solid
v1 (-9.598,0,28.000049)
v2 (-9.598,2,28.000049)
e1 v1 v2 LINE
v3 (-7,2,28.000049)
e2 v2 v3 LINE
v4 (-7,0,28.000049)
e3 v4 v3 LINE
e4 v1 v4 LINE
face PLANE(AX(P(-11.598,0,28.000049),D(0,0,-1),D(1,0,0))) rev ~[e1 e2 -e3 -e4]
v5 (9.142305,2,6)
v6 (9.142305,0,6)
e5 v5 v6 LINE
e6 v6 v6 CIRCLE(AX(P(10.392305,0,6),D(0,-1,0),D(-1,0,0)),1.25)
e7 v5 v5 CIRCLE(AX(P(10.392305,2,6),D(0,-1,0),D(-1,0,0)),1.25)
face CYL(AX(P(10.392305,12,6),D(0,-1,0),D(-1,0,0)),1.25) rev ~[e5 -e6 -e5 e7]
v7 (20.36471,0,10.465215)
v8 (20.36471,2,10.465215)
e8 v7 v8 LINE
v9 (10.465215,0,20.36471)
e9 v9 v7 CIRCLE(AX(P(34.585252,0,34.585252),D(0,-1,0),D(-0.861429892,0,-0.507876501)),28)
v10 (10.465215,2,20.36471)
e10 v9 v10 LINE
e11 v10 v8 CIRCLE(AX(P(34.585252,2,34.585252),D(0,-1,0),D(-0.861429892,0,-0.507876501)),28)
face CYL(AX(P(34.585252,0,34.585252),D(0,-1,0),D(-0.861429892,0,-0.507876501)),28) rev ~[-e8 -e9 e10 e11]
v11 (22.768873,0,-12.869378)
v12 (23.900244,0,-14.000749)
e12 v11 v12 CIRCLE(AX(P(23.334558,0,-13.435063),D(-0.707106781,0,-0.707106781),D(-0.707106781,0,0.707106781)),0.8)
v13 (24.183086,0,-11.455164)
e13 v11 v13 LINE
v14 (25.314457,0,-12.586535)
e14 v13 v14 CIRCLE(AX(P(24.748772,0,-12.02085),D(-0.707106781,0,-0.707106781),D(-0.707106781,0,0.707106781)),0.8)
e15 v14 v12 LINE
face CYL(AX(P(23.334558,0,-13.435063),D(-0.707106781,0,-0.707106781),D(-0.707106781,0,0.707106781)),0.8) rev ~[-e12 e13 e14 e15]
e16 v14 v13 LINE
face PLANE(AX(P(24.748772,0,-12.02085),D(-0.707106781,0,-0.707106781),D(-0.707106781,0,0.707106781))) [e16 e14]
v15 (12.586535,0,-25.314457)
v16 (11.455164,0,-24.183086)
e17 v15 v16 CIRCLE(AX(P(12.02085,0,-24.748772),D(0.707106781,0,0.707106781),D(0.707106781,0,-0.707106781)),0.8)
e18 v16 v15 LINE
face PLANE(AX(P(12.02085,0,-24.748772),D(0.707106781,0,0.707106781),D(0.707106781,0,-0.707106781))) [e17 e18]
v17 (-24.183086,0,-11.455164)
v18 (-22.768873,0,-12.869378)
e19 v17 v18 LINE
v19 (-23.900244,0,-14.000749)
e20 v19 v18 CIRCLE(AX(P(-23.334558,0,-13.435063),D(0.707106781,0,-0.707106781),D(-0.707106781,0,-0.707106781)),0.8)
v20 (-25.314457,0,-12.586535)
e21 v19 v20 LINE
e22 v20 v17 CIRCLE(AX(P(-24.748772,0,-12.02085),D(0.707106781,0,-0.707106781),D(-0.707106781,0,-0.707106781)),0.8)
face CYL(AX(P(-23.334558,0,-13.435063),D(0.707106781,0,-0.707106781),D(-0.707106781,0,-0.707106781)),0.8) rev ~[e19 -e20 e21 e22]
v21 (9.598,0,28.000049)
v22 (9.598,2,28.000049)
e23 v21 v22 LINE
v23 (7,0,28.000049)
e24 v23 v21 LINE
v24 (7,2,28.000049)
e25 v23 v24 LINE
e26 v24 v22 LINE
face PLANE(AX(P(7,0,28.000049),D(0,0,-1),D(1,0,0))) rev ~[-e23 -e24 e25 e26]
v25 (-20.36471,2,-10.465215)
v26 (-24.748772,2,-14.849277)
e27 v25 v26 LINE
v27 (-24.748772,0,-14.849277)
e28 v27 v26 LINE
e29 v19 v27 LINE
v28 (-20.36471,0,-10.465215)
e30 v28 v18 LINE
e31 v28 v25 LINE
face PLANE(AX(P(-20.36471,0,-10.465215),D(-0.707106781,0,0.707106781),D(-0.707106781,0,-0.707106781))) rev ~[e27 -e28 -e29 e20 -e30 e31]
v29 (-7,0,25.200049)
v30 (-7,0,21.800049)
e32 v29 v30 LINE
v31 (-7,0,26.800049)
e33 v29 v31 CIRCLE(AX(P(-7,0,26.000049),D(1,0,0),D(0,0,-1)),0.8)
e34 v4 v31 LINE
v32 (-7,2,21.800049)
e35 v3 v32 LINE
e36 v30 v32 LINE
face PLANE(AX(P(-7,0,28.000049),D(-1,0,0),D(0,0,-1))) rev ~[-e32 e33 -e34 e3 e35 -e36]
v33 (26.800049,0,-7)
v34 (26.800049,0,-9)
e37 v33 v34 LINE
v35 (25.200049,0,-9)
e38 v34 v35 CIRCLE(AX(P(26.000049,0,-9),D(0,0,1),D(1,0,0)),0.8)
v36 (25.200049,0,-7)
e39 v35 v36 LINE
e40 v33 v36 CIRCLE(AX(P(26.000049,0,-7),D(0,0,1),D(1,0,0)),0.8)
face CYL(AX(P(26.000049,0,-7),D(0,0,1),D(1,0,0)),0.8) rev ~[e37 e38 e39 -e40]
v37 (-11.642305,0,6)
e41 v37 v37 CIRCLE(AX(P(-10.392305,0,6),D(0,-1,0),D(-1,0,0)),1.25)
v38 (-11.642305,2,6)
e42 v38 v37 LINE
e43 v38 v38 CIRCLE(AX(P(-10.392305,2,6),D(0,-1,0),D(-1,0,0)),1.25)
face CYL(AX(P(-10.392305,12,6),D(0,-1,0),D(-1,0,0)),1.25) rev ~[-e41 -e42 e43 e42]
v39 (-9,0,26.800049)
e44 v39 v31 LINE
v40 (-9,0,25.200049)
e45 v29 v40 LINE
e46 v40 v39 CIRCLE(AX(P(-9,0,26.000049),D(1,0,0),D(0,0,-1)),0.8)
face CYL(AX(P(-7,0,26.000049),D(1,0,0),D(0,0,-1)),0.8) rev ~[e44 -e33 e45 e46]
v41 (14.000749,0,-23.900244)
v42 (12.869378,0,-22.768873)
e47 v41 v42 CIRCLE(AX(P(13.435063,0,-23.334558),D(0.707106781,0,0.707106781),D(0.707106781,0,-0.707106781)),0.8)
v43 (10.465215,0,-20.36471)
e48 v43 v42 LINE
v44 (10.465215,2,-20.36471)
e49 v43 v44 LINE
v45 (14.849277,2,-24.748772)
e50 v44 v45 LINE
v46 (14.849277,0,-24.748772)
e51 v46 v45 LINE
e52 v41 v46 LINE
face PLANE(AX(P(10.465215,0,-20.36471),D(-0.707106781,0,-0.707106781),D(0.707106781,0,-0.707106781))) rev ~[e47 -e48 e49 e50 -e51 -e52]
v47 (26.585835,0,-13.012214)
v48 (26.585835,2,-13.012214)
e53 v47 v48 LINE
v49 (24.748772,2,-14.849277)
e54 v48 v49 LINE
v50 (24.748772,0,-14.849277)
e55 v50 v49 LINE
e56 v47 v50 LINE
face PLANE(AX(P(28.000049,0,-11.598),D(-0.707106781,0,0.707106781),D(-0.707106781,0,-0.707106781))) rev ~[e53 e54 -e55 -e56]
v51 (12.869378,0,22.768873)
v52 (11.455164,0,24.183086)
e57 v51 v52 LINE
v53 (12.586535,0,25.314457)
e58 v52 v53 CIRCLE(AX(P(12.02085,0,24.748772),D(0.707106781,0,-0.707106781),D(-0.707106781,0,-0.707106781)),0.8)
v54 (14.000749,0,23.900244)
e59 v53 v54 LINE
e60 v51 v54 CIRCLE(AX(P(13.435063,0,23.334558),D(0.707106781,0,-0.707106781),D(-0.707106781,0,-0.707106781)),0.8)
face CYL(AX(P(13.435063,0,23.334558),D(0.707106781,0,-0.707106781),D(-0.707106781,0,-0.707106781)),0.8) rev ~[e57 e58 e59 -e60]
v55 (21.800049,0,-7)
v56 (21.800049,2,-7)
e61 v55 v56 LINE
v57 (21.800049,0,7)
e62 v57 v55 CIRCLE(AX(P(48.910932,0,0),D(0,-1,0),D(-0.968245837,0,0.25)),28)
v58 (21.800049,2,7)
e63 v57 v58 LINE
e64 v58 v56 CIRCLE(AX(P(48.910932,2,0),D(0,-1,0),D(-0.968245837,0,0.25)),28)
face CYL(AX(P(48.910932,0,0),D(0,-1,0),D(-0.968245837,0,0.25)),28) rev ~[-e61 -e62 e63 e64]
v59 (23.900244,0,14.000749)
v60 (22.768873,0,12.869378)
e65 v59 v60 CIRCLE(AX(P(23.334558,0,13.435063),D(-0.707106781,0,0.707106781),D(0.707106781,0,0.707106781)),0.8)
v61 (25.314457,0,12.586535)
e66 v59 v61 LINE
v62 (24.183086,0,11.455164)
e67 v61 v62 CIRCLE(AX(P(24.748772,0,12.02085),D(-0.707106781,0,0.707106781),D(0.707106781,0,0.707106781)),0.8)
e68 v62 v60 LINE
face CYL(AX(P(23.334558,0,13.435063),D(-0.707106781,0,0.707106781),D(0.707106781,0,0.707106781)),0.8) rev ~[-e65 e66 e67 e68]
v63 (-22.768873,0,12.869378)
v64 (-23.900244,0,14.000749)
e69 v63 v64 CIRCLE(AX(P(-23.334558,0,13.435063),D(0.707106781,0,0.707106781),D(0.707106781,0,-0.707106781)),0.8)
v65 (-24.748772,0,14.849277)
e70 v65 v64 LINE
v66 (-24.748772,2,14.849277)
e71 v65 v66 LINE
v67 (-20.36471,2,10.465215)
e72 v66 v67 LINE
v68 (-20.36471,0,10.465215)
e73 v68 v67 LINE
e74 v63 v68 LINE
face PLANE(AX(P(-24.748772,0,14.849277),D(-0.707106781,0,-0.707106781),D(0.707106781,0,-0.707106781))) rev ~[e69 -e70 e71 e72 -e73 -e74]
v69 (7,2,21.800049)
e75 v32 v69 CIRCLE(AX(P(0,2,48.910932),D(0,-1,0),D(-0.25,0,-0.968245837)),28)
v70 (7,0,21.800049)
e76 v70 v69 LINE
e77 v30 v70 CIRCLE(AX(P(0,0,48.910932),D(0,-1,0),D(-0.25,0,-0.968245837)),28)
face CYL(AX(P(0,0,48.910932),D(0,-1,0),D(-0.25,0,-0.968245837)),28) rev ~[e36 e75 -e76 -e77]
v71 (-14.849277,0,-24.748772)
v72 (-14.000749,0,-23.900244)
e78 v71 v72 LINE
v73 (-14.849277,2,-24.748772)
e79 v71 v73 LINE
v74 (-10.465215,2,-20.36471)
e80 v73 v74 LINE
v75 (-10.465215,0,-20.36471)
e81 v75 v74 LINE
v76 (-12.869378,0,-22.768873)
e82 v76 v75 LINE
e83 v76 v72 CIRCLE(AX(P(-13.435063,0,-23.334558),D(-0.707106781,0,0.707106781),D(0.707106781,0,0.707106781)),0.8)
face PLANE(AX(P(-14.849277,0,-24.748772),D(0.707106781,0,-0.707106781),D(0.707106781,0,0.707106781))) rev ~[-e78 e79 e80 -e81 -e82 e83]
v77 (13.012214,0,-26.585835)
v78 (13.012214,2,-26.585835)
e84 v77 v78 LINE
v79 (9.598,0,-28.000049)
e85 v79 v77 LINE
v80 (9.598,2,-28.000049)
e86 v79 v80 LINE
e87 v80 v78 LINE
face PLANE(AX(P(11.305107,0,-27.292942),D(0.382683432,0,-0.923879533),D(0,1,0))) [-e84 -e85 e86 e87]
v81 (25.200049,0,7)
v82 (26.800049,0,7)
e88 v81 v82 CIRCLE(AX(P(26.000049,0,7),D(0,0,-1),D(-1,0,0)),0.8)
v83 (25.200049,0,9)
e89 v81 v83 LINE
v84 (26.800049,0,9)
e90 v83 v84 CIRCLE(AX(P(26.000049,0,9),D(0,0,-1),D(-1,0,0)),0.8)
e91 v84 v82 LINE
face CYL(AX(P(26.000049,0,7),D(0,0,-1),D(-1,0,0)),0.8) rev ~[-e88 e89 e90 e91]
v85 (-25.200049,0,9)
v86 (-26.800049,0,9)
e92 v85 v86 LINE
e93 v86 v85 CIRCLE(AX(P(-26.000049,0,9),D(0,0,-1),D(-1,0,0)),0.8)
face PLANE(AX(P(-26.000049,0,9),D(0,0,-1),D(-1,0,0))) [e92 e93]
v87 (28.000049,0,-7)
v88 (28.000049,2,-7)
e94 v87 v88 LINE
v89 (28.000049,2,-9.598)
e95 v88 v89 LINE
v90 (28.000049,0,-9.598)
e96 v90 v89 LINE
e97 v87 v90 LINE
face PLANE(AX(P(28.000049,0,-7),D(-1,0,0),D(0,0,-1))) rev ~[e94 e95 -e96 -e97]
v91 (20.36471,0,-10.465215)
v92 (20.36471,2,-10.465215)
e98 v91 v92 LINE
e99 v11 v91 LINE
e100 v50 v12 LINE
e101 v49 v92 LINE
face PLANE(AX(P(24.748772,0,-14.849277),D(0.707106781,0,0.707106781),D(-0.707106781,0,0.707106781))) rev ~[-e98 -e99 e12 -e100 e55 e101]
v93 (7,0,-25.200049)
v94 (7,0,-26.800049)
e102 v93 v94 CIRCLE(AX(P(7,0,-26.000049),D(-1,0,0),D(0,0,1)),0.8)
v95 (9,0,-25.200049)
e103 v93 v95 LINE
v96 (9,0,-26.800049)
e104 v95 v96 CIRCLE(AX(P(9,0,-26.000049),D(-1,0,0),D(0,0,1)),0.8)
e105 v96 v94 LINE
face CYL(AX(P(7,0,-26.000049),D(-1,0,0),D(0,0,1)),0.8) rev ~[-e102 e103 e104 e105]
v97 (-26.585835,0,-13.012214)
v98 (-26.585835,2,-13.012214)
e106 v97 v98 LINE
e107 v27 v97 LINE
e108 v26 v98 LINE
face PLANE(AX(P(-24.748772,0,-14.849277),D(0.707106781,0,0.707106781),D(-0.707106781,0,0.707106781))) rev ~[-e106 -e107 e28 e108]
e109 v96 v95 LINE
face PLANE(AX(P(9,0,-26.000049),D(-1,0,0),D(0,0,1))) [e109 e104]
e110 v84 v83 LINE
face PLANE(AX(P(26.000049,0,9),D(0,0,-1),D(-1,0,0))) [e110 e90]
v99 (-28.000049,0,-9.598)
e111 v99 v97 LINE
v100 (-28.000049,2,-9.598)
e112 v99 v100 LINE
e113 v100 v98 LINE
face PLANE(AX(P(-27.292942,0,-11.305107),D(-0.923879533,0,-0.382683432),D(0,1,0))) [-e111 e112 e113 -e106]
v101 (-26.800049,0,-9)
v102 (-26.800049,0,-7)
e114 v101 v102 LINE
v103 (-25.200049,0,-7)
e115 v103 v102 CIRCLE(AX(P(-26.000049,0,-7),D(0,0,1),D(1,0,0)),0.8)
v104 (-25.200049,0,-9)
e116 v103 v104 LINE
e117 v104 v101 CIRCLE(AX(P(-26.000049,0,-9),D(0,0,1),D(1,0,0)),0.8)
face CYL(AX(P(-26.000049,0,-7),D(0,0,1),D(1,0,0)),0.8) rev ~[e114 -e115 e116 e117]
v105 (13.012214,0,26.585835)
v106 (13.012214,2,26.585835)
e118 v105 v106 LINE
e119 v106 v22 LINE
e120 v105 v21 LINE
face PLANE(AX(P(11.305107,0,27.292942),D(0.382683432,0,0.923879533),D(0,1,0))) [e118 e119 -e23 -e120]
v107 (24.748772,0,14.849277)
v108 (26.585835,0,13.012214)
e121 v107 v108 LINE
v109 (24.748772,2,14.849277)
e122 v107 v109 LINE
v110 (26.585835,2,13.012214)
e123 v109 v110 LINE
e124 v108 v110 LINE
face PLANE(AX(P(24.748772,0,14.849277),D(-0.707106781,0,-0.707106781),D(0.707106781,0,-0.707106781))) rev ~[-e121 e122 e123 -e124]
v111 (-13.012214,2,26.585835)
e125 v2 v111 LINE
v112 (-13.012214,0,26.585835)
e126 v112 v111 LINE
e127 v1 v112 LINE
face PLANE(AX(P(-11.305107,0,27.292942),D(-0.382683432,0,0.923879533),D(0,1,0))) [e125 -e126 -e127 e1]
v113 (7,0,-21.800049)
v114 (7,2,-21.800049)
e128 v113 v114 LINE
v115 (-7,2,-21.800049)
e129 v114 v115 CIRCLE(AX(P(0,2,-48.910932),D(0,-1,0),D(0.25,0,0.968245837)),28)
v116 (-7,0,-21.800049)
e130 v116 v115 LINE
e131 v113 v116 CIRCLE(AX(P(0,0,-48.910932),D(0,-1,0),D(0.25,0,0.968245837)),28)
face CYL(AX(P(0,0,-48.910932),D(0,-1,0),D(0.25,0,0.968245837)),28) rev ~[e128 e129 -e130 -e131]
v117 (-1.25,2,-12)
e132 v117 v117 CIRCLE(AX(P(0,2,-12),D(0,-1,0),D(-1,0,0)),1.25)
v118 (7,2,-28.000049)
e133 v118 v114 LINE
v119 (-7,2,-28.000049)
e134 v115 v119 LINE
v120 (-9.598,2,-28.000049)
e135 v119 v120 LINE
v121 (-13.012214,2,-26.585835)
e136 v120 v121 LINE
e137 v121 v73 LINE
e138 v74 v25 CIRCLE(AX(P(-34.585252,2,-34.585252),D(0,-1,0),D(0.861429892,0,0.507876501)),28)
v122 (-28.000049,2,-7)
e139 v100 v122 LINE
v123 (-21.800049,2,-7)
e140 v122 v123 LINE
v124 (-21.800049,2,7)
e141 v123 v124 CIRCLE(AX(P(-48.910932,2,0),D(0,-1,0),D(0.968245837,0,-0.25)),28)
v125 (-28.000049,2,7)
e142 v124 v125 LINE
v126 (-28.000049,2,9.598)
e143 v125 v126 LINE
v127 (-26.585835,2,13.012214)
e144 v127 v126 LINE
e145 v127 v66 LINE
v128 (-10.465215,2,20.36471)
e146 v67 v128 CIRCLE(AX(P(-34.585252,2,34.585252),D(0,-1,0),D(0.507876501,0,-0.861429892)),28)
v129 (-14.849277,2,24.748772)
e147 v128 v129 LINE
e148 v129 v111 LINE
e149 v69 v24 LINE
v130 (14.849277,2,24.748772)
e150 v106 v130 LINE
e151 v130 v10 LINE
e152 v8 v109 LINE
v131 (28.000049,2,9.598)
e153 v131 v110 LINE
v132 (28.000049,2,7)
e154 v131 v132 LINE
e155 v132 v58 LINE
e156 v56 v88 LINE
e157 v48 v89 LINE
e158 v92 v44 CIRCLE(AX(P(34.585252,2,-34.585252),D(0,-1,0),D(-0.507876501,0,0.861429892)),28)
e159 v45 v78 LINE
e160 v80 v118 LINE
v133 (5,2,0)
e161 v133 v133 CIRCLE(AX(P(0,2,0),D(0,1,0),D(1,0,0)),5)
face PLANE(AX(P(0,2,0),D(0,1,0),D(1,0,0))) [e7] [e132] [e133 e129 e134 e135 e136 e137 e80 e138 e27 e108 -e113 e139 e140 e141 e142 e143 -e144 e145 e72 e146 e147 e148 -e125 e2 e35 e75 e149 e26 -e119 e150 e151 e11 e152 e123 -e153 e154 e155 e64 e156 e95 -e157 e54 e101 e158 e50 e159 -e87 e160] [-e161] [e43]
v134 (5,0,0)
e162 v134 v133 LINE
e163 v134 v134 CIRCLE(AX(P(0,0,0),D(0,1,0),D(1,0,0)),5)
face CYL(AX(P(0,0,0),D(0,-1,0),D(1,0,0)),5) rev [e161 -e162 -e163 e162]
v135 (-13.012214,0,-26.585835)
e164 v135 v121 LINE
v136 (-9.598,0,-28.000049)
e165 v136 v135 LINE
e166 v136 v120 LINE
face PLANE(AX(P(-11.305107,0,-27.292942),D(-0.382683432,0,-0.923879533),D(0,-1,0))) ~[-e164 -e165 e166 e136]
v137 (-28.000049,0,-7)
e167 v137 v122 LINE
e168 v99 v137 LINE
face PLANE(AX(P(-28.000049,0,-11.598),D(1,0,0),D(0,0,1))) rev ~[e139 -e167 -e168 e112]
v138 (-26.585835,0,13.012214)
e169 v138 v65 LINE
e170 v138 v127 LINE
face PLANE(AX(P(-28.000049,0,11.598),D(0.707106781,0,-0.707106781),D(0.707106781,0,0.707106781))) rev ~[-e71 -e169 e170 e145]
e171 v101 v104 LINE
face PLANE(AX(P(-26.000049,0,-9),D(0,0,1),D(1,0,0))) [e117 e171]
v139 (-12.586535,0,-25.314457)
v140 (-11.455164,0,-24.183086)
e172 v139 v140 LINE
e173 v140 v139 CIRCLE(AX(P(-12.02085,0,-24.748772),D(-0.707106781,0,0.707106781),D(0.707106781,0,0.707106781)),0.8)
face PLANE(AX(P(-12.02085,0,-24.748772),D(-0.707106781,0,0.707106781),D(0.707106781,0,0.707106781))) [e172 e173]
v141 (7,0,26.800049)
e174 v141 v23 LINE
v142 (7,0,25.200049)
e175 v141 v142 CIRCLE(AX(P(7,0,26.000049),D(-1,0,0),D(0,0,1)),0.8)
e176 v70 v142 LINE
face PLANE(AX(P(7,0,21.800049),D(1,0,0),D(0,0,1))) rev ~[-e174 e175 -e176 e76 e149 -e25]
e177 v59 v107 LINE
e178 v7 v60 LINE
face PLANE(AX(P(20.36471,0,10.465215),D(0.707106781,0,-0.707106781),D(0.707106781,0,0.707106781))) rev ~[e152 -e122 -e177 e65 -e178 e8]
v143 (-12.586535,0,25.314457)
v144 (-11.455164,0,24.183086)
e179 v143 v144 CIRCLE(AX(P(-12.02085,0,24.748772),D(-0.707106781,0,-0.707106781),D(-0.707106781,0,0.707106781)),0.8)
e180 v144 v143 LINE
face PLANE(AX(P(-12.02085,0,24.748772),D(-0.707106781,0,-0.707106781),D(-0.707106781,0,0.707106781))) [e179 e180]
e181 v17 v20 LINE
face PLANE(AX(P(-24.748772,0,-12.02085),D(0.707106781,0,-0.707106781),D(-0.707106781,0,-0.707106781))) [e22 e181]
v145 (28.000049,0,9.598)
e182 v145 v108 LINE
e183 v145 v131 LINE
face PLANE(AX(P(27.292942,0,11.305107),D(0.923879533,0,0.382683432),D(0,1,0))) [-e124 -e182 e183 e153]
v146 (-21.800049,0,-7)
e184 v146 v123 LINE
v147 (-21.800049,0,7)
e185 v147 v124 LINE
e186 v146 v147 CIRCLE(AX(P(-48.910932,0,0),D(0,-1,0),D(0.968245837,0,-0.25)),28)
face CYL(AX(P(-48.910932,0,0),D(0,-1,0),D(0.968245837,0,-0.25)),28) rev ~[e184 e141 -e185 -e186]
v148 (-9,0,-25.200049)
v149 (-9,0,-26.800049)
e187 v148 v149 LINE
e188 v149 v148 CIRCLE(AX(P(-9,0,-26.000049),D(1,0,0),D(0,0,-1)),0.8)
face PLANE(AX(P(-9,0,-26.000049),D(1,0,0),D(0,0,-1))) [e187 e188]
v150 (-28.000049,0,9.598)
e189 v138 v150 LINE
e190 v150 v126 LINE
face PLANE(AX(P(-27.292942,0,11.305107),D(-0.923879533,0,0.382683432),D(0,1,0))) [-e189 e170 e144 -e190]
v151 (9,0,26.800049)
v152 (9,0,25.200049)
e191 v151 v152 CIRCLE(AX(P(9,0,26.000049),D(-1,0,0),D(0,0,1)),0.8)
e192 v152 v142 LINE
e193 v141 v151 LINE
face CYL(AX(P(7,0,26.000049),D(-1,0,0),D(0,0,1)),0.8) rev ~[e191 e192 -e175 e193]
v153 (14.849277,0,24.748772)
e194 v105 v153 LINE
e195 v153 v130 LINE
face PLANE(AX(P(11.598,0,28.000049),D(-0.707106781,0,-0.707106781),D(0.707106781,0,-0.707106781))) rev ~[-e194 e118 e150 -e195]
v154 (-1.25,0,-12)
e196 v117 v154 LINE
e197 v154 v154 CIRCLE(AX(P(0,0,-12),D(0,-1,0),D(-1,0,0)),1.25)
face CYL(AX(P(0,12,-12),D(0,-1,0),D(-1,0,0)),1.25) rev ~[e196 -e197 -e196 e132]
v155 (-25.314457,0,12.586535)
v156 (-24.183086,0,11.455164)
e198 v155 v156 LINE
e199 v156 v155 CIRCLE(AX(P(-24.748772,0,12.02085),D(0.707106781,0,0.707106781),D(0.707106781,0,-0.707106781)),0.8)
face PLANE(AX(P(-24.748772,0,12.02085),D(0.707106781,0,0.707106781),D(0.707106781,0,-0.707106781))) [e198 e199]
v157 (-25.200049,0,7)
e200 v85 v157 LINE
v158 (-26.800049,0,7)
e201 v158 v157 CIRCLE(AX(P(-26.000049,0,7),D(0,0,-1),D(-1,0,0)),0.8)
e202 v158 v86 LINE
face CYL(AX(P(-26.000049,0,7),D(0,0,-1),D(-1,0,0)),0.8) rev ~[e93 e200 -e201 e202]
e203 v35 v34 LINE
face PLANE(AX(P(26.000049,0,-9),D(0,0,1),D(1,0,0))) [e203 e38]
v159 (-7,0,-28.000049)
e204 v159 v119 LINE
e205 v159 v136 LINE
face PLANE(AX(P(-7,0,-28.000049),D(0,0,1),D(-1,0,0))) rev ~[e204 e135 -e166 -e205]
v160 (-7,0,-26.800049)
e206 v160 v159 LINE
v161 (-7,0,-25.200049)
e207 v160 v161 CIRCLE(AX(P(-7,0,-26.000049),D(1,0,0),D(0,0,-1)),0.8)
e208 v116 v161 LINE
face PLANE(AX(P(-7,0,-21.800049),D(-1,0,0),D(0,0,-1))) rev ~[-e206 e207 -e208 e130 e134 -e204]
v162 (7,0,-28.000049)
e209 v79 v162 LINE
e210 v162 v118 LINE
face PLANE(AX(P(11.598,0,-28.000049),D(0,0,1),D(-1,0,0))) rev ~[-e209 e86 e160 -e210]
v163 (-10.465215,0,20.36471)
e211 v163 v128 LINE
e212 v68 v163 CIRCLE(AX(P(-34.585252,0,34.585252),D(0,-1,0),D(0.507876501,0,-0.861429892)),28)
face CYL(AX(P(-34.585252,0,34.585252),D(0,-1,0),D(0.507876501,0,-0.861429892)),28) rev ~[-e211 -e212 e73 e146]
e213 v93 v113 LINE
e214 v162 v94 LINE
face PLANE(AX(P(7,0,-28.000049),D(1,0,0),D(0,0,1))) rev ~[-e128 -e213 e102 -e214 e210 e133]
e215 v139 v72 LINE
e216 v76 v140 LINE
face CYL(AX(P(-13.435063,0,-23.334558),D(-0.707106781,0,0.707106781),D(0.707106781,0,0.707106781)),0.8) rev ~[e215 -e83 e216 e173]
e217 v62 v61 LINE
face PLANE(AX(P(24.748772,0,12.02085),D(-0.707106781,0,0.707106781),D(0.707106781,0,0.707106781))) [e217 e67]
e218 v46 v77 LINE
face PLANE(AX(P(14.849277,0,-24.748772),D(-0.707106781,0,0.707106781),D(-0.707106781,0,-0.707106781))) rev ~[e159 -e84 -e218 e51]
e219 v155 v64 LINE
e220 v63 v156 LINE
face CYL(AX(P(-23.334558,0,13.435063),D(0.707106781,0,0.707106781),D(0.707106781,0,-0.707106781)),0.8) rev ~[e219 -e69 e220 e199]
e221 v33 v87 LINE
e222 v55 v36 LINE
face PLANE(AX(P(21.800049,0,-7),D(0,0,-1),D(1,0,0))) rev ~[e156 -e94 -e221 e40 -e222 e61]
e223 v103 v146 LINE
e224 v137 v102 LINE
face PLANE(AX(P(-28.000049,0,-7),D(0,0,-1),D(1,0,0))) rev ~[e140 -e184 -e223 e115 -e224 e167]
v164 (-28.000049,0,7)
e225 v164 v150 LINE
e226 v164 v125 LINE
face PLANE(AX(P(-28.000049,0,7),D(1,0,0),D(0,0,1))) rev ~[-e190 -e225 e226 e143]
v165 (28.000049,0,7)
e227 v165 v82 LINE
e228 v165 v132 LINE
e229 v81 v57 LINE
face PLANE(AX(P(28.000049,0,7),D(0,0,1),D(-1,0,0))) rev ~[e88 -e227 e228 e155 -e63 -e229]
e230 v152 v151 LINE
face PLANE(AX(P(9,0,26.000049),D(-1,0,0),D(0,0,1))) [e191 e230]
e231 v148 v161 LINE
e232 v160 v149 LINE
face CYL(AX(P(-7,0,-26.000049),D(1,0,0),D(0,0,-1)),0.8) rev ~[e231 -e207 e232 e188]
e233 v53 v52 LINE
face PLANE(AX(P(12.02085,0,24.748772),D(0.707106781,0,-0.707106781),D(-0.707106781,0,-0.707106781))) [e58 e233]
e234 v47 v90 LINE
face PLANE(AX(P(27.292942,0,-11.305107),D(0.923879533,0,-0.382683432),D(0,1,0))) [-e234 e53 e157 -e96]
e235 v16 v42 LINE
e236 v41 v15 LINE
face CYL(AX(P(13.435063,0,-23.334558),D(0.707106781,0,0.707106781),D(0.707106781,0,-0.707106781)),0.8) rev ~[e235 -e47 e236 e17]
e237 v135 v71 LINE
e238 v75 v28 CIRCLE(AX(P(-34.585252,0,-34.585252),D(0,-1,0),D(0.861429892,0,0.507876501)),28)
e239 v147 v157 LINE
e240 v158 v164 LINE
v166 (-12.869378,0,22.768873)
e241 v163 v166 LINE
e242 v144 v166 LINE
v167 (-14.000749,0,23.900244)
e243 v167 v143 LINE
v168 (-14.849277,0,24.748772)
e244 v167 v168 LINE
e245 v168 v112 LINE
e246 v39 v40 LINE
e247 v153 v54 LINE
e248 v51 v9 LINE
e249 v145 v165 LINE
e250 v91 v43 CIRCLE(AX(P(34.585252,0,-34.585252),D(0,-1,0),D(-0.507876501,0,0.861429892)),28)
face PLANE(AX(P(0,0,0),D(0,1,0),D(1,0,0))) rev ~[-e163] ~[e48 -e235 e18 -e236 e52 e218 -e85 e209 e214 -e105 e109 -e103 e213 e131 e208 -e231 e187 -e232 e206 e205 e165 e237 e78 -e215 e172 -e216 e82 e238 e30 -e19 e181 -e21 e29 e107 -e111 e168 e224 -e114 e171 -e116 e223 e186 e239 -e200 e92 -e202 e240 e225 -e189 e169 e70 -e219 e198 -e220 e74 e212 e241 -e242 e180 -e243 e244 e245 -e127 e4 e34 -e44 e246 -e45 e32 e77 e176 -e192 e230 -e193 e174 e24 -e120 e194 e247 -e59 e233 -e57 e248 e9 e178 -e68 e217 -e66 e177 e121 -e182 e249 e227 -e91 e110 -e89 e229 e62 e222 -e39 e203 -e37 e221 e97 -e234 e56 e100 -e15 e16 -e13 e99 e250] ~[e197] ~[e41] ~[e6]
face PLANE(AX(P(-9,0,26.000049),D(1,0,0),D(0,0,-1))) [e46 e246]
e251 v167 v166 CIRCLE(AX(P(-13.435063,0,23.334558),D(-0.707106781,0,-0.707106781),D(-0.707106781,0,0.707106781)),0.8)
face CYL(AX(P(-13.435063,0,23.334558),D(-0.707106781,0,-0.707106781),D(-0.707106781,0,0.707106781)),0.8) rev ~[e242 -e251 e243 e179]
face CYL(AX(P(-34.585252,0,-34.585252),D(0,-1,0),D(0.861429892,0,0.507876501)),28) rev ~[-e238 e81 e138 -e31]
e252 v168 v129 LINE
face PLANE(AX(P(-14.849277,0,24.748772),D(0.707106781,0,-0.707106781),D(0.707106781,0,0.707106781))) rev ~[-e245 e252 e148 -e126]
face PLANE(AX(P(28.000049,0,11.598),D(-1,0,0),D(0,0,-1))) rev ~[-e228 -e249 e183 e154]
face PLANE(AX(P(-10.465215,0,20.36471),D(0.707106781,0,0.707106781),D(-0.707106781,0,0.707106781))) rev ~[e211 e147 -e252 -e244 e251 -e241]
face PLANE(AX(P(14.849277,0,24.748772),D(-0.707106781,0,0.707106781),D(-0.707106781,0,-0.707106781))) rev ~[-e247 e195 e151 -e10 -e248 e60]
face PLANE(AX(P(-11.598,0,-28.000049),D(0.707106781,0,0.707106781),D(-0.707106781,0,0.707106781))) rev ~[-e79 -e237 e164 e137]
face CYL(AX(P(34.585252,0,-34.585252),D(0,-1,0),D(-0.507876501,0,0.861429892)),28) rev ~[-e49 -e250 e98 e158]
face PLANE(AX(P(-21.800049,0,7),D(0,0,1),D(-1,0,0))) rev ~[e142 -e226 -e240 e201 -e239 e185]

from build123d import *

# Parameters (mm, degrees)
SKETCH2_R                 = 5
BOSS_EXTRUDE2_DEPTH       = 2
SKETCH3_R                 = 0.8
CUT_EXTRUDE1_DEPTH        = 2
SKETCH4_R                 = 0.8
CUT_EXTRUDE2_DEPTH        = 2
CHAMFER1_SIZE             = 2
CIRPATTERN3_COUNT         = 8
F_2_5MM_DOWEL_HOLE1_D     = 2.5
F_2_5MM_DOWEL_HOLE1_DEPTH = 10
F_2_5MM_DOWEL_HOLE1_TIP   = 0.751075774


with BuildPart() as part:
    # Sketch2 → Boss-Extrude2 (new body)
    with BuildSketch(Plane(origin=(0, 0, 0), x_dir=(1, 0, 0), z_dir=(0, 1, 0))):
        with BuildLine():
            Line((-7, 21.800048896), (-7, 28.000048896))
            Line((-7, 28.000048896), (-11.598, 28.000048896))
            Line((-11.598, 28.000048896), (-14.84927698, 24.748771917))
            Line((-14.84927698, 24.748771917), (-10.465214937, 20.364709873))
            ThreePointArc((-10.465214937, 20.364709873), (-14.786262044, 14.786262044), (-20.364709873, 10.465214937))
            Line((-20.364709873, 10.465214937), (-24.748771917, 14.84927698))
            Line((-24.748771917, 14.84927698), (-28.000048896, 11.598))
            Line((-28.000048896, 11.598), (-28.000048896, 7))
            Line((-28.000048896, 7), (-21.800048896, 7))
            ThreePointArc((-21.800048896, 7), (-20.91093232, 0), (-21.800048896, -7))
            Line((-21.800048896, -7), (-28.000048896, -7))
            Line((-28.000048896, -7), (-28.000048896, -11.598))
            Line((-28.000048896, -11.598), (-24.748771917, -14.84927698))
            Line((-24.748771917, -14.84927698), (-20.364709873, -10.465214937))
            ThreePointArc((-20.364709873, -10.465214937), (-14.786262044, -14.786262044), (-10.465214937, -20.364709873))
            Line((-10.465214937, -20.364709873), (-14.84927698, -24.748771917))
            Line((-14.84927698, -24.748771917), (-11.598, -28.000048896))
            Line((-11.598, -28.000048896), (-7, -28.000048896))
            Line((-7, -28.000048896), (-7, -21.800048896))
            ThreePointArc((-7, -21.800048896), (0, -20.91093232), (7, -21.800048896))
            Line((7, -21.800048896), (7, -28.000048896))
            Line((7, -28.000048896), (11.598, -28.000048896))
            Line((11.598, -28.000048896), (14.84927698, -24.748771917))
            Line((14.84927698, -24.748771917), (10.465214937, -20.364709873))
            ThreePointArc((10.465214937, -20.364709873), (14.786262044, -14.786262044), (20.364709873, -10.465214937))
            Line((20.364709873, -10.465214937), (24.748771917, -14.84927698))
            Line((24.748771917, -14.84927698), (28.000048896, -11.598))
            Line((28.000048896, -11.598), (28.000048896, -7))
            Line((28.000048896, -7), (21.800048896, -7))
            ThreePointArc((21.800048896, -7), (20.91093232, 0), (21.800048896, 7))
            Line((21.800048896, 7), (28.000048896, 7))
            Line((28.000048896, 7), (28.000048896, 11.598))
            Line((28.000048896, 11.598), (24.748771917, 14.84927698))
            Line((24.748771917, 14.84927698), (20.364709873, 10.465214937))
            ThreePointArc((20.364709873, 10.465214937), (14.786262044, 14.786262044), (10.465214937, 20.364709873))
            Line((10.465214937, 20.364709873), (14.84927698, 24.748771917))
            Line((14.84927698, 24.748771917), (11.598, 28.000048896))
            Line((11.598, 28.000048896), (7, 28.000048896))
            Line((7, 28.000048896), (7, 21.800048896))
            ThreePointArc((7, 21.800048896), (0, 20.91093232), (-7, 21.800048896))
        make_face()
        Circle(SKETCH2_R, mode=Mode.SUBTRACT)
    extrude(amount=BOSS_EXTRUDE2_DEPTH)

    # Sketch3 → Cut-Extrude1 (cut)
    with BuildSketch(Plane.ZY.offset(-7)):
        with Locations((-26.000048896, 0)):
            Circle(SKETCH3_R)
    cut_extrude1 = extrude(amount=-CUT_EXTRUDE1_DEPTH, mode=Mode.SUBTRACT)

    # Sketch4 → Cut-Extrude2 (cut)
    with BuildSketch(Plane(origin=(-7, 0, 0), x_dir=(0, 0, -1), z_dir=(1, 0, 0))):
        with Locations((26.000048896, 0)):
            Circle(SKETCH4_R)
    cut_extrude2 = extrude(amount=-CUT_EXTRUDE2_DEPTH, mode=Mode.SUBTRACT)

    # Chamfer1
    chamfer1_edges = [part.edges().sort_by_distance(p)[0] for p in [
        (-11.598, 1, -28.000048896),
        (11.598, 1, -28.000048896),
        (28.000048896, 1, -11.598),
        (28.000048896, 1, 11.598),
        (11.598, 1, 28.000048896),
        (-11.598, 1, 28.000048896),
        (-28.000048896, 1, 11.598),
        (-28.000048896, 1, -11.598),
    ]]
    chamfer(chamfer1_edges, length=CHAMFER1_SIZE)

    # CirPattern3: Cut-Extrude1, Cut-Extrude2 ×8 about axis
    cirpattern3_axis = Axis((0, 0, 0), (0, 1, 0))
    for i in range(1, CIRPATTERN3_COUNT):
        add(cut_extrude1.rotate(cirpattern3_axis, i * 360 / CIRPATTERN3_COUNT), mode=Mode.SUBTRACT)
        add(cut_extrude2.rotate(cirpattern3_axis, i * 360 / CIRPATTERN3_COUNT), mode=Mode.SUBTRACT)

    # Ø2.5mm Dowel Hole1
    with Locations(Plane(origin=(0, 2, 0), x_dir=(1, 0, 0), z_dir=(0, 1, 0))):
        with Locations((0, 12), (10.392304845, -6), (-10.392304845, -6), (0, 0)):
            Hole(F_2_5MM_DOWEL_HOLE1_D / 2, depth=F_2_5MM_DOWEL_HOLE1_DEPTH)
            with Locations((0, 0, -(F_2_5MM_DOWEL_HOLE1_DEPTH + F_2_5MM_DOWEL_HOLE1_TIP / 2))):  # 118° drill point
                Cone(0, F_2_5MM_DOWEL_HOLE1_D / 2, F_2_5MM_DOWEL_HOLE1_TIP, mode=Mode.SUBTRACT)


solid = part.part
